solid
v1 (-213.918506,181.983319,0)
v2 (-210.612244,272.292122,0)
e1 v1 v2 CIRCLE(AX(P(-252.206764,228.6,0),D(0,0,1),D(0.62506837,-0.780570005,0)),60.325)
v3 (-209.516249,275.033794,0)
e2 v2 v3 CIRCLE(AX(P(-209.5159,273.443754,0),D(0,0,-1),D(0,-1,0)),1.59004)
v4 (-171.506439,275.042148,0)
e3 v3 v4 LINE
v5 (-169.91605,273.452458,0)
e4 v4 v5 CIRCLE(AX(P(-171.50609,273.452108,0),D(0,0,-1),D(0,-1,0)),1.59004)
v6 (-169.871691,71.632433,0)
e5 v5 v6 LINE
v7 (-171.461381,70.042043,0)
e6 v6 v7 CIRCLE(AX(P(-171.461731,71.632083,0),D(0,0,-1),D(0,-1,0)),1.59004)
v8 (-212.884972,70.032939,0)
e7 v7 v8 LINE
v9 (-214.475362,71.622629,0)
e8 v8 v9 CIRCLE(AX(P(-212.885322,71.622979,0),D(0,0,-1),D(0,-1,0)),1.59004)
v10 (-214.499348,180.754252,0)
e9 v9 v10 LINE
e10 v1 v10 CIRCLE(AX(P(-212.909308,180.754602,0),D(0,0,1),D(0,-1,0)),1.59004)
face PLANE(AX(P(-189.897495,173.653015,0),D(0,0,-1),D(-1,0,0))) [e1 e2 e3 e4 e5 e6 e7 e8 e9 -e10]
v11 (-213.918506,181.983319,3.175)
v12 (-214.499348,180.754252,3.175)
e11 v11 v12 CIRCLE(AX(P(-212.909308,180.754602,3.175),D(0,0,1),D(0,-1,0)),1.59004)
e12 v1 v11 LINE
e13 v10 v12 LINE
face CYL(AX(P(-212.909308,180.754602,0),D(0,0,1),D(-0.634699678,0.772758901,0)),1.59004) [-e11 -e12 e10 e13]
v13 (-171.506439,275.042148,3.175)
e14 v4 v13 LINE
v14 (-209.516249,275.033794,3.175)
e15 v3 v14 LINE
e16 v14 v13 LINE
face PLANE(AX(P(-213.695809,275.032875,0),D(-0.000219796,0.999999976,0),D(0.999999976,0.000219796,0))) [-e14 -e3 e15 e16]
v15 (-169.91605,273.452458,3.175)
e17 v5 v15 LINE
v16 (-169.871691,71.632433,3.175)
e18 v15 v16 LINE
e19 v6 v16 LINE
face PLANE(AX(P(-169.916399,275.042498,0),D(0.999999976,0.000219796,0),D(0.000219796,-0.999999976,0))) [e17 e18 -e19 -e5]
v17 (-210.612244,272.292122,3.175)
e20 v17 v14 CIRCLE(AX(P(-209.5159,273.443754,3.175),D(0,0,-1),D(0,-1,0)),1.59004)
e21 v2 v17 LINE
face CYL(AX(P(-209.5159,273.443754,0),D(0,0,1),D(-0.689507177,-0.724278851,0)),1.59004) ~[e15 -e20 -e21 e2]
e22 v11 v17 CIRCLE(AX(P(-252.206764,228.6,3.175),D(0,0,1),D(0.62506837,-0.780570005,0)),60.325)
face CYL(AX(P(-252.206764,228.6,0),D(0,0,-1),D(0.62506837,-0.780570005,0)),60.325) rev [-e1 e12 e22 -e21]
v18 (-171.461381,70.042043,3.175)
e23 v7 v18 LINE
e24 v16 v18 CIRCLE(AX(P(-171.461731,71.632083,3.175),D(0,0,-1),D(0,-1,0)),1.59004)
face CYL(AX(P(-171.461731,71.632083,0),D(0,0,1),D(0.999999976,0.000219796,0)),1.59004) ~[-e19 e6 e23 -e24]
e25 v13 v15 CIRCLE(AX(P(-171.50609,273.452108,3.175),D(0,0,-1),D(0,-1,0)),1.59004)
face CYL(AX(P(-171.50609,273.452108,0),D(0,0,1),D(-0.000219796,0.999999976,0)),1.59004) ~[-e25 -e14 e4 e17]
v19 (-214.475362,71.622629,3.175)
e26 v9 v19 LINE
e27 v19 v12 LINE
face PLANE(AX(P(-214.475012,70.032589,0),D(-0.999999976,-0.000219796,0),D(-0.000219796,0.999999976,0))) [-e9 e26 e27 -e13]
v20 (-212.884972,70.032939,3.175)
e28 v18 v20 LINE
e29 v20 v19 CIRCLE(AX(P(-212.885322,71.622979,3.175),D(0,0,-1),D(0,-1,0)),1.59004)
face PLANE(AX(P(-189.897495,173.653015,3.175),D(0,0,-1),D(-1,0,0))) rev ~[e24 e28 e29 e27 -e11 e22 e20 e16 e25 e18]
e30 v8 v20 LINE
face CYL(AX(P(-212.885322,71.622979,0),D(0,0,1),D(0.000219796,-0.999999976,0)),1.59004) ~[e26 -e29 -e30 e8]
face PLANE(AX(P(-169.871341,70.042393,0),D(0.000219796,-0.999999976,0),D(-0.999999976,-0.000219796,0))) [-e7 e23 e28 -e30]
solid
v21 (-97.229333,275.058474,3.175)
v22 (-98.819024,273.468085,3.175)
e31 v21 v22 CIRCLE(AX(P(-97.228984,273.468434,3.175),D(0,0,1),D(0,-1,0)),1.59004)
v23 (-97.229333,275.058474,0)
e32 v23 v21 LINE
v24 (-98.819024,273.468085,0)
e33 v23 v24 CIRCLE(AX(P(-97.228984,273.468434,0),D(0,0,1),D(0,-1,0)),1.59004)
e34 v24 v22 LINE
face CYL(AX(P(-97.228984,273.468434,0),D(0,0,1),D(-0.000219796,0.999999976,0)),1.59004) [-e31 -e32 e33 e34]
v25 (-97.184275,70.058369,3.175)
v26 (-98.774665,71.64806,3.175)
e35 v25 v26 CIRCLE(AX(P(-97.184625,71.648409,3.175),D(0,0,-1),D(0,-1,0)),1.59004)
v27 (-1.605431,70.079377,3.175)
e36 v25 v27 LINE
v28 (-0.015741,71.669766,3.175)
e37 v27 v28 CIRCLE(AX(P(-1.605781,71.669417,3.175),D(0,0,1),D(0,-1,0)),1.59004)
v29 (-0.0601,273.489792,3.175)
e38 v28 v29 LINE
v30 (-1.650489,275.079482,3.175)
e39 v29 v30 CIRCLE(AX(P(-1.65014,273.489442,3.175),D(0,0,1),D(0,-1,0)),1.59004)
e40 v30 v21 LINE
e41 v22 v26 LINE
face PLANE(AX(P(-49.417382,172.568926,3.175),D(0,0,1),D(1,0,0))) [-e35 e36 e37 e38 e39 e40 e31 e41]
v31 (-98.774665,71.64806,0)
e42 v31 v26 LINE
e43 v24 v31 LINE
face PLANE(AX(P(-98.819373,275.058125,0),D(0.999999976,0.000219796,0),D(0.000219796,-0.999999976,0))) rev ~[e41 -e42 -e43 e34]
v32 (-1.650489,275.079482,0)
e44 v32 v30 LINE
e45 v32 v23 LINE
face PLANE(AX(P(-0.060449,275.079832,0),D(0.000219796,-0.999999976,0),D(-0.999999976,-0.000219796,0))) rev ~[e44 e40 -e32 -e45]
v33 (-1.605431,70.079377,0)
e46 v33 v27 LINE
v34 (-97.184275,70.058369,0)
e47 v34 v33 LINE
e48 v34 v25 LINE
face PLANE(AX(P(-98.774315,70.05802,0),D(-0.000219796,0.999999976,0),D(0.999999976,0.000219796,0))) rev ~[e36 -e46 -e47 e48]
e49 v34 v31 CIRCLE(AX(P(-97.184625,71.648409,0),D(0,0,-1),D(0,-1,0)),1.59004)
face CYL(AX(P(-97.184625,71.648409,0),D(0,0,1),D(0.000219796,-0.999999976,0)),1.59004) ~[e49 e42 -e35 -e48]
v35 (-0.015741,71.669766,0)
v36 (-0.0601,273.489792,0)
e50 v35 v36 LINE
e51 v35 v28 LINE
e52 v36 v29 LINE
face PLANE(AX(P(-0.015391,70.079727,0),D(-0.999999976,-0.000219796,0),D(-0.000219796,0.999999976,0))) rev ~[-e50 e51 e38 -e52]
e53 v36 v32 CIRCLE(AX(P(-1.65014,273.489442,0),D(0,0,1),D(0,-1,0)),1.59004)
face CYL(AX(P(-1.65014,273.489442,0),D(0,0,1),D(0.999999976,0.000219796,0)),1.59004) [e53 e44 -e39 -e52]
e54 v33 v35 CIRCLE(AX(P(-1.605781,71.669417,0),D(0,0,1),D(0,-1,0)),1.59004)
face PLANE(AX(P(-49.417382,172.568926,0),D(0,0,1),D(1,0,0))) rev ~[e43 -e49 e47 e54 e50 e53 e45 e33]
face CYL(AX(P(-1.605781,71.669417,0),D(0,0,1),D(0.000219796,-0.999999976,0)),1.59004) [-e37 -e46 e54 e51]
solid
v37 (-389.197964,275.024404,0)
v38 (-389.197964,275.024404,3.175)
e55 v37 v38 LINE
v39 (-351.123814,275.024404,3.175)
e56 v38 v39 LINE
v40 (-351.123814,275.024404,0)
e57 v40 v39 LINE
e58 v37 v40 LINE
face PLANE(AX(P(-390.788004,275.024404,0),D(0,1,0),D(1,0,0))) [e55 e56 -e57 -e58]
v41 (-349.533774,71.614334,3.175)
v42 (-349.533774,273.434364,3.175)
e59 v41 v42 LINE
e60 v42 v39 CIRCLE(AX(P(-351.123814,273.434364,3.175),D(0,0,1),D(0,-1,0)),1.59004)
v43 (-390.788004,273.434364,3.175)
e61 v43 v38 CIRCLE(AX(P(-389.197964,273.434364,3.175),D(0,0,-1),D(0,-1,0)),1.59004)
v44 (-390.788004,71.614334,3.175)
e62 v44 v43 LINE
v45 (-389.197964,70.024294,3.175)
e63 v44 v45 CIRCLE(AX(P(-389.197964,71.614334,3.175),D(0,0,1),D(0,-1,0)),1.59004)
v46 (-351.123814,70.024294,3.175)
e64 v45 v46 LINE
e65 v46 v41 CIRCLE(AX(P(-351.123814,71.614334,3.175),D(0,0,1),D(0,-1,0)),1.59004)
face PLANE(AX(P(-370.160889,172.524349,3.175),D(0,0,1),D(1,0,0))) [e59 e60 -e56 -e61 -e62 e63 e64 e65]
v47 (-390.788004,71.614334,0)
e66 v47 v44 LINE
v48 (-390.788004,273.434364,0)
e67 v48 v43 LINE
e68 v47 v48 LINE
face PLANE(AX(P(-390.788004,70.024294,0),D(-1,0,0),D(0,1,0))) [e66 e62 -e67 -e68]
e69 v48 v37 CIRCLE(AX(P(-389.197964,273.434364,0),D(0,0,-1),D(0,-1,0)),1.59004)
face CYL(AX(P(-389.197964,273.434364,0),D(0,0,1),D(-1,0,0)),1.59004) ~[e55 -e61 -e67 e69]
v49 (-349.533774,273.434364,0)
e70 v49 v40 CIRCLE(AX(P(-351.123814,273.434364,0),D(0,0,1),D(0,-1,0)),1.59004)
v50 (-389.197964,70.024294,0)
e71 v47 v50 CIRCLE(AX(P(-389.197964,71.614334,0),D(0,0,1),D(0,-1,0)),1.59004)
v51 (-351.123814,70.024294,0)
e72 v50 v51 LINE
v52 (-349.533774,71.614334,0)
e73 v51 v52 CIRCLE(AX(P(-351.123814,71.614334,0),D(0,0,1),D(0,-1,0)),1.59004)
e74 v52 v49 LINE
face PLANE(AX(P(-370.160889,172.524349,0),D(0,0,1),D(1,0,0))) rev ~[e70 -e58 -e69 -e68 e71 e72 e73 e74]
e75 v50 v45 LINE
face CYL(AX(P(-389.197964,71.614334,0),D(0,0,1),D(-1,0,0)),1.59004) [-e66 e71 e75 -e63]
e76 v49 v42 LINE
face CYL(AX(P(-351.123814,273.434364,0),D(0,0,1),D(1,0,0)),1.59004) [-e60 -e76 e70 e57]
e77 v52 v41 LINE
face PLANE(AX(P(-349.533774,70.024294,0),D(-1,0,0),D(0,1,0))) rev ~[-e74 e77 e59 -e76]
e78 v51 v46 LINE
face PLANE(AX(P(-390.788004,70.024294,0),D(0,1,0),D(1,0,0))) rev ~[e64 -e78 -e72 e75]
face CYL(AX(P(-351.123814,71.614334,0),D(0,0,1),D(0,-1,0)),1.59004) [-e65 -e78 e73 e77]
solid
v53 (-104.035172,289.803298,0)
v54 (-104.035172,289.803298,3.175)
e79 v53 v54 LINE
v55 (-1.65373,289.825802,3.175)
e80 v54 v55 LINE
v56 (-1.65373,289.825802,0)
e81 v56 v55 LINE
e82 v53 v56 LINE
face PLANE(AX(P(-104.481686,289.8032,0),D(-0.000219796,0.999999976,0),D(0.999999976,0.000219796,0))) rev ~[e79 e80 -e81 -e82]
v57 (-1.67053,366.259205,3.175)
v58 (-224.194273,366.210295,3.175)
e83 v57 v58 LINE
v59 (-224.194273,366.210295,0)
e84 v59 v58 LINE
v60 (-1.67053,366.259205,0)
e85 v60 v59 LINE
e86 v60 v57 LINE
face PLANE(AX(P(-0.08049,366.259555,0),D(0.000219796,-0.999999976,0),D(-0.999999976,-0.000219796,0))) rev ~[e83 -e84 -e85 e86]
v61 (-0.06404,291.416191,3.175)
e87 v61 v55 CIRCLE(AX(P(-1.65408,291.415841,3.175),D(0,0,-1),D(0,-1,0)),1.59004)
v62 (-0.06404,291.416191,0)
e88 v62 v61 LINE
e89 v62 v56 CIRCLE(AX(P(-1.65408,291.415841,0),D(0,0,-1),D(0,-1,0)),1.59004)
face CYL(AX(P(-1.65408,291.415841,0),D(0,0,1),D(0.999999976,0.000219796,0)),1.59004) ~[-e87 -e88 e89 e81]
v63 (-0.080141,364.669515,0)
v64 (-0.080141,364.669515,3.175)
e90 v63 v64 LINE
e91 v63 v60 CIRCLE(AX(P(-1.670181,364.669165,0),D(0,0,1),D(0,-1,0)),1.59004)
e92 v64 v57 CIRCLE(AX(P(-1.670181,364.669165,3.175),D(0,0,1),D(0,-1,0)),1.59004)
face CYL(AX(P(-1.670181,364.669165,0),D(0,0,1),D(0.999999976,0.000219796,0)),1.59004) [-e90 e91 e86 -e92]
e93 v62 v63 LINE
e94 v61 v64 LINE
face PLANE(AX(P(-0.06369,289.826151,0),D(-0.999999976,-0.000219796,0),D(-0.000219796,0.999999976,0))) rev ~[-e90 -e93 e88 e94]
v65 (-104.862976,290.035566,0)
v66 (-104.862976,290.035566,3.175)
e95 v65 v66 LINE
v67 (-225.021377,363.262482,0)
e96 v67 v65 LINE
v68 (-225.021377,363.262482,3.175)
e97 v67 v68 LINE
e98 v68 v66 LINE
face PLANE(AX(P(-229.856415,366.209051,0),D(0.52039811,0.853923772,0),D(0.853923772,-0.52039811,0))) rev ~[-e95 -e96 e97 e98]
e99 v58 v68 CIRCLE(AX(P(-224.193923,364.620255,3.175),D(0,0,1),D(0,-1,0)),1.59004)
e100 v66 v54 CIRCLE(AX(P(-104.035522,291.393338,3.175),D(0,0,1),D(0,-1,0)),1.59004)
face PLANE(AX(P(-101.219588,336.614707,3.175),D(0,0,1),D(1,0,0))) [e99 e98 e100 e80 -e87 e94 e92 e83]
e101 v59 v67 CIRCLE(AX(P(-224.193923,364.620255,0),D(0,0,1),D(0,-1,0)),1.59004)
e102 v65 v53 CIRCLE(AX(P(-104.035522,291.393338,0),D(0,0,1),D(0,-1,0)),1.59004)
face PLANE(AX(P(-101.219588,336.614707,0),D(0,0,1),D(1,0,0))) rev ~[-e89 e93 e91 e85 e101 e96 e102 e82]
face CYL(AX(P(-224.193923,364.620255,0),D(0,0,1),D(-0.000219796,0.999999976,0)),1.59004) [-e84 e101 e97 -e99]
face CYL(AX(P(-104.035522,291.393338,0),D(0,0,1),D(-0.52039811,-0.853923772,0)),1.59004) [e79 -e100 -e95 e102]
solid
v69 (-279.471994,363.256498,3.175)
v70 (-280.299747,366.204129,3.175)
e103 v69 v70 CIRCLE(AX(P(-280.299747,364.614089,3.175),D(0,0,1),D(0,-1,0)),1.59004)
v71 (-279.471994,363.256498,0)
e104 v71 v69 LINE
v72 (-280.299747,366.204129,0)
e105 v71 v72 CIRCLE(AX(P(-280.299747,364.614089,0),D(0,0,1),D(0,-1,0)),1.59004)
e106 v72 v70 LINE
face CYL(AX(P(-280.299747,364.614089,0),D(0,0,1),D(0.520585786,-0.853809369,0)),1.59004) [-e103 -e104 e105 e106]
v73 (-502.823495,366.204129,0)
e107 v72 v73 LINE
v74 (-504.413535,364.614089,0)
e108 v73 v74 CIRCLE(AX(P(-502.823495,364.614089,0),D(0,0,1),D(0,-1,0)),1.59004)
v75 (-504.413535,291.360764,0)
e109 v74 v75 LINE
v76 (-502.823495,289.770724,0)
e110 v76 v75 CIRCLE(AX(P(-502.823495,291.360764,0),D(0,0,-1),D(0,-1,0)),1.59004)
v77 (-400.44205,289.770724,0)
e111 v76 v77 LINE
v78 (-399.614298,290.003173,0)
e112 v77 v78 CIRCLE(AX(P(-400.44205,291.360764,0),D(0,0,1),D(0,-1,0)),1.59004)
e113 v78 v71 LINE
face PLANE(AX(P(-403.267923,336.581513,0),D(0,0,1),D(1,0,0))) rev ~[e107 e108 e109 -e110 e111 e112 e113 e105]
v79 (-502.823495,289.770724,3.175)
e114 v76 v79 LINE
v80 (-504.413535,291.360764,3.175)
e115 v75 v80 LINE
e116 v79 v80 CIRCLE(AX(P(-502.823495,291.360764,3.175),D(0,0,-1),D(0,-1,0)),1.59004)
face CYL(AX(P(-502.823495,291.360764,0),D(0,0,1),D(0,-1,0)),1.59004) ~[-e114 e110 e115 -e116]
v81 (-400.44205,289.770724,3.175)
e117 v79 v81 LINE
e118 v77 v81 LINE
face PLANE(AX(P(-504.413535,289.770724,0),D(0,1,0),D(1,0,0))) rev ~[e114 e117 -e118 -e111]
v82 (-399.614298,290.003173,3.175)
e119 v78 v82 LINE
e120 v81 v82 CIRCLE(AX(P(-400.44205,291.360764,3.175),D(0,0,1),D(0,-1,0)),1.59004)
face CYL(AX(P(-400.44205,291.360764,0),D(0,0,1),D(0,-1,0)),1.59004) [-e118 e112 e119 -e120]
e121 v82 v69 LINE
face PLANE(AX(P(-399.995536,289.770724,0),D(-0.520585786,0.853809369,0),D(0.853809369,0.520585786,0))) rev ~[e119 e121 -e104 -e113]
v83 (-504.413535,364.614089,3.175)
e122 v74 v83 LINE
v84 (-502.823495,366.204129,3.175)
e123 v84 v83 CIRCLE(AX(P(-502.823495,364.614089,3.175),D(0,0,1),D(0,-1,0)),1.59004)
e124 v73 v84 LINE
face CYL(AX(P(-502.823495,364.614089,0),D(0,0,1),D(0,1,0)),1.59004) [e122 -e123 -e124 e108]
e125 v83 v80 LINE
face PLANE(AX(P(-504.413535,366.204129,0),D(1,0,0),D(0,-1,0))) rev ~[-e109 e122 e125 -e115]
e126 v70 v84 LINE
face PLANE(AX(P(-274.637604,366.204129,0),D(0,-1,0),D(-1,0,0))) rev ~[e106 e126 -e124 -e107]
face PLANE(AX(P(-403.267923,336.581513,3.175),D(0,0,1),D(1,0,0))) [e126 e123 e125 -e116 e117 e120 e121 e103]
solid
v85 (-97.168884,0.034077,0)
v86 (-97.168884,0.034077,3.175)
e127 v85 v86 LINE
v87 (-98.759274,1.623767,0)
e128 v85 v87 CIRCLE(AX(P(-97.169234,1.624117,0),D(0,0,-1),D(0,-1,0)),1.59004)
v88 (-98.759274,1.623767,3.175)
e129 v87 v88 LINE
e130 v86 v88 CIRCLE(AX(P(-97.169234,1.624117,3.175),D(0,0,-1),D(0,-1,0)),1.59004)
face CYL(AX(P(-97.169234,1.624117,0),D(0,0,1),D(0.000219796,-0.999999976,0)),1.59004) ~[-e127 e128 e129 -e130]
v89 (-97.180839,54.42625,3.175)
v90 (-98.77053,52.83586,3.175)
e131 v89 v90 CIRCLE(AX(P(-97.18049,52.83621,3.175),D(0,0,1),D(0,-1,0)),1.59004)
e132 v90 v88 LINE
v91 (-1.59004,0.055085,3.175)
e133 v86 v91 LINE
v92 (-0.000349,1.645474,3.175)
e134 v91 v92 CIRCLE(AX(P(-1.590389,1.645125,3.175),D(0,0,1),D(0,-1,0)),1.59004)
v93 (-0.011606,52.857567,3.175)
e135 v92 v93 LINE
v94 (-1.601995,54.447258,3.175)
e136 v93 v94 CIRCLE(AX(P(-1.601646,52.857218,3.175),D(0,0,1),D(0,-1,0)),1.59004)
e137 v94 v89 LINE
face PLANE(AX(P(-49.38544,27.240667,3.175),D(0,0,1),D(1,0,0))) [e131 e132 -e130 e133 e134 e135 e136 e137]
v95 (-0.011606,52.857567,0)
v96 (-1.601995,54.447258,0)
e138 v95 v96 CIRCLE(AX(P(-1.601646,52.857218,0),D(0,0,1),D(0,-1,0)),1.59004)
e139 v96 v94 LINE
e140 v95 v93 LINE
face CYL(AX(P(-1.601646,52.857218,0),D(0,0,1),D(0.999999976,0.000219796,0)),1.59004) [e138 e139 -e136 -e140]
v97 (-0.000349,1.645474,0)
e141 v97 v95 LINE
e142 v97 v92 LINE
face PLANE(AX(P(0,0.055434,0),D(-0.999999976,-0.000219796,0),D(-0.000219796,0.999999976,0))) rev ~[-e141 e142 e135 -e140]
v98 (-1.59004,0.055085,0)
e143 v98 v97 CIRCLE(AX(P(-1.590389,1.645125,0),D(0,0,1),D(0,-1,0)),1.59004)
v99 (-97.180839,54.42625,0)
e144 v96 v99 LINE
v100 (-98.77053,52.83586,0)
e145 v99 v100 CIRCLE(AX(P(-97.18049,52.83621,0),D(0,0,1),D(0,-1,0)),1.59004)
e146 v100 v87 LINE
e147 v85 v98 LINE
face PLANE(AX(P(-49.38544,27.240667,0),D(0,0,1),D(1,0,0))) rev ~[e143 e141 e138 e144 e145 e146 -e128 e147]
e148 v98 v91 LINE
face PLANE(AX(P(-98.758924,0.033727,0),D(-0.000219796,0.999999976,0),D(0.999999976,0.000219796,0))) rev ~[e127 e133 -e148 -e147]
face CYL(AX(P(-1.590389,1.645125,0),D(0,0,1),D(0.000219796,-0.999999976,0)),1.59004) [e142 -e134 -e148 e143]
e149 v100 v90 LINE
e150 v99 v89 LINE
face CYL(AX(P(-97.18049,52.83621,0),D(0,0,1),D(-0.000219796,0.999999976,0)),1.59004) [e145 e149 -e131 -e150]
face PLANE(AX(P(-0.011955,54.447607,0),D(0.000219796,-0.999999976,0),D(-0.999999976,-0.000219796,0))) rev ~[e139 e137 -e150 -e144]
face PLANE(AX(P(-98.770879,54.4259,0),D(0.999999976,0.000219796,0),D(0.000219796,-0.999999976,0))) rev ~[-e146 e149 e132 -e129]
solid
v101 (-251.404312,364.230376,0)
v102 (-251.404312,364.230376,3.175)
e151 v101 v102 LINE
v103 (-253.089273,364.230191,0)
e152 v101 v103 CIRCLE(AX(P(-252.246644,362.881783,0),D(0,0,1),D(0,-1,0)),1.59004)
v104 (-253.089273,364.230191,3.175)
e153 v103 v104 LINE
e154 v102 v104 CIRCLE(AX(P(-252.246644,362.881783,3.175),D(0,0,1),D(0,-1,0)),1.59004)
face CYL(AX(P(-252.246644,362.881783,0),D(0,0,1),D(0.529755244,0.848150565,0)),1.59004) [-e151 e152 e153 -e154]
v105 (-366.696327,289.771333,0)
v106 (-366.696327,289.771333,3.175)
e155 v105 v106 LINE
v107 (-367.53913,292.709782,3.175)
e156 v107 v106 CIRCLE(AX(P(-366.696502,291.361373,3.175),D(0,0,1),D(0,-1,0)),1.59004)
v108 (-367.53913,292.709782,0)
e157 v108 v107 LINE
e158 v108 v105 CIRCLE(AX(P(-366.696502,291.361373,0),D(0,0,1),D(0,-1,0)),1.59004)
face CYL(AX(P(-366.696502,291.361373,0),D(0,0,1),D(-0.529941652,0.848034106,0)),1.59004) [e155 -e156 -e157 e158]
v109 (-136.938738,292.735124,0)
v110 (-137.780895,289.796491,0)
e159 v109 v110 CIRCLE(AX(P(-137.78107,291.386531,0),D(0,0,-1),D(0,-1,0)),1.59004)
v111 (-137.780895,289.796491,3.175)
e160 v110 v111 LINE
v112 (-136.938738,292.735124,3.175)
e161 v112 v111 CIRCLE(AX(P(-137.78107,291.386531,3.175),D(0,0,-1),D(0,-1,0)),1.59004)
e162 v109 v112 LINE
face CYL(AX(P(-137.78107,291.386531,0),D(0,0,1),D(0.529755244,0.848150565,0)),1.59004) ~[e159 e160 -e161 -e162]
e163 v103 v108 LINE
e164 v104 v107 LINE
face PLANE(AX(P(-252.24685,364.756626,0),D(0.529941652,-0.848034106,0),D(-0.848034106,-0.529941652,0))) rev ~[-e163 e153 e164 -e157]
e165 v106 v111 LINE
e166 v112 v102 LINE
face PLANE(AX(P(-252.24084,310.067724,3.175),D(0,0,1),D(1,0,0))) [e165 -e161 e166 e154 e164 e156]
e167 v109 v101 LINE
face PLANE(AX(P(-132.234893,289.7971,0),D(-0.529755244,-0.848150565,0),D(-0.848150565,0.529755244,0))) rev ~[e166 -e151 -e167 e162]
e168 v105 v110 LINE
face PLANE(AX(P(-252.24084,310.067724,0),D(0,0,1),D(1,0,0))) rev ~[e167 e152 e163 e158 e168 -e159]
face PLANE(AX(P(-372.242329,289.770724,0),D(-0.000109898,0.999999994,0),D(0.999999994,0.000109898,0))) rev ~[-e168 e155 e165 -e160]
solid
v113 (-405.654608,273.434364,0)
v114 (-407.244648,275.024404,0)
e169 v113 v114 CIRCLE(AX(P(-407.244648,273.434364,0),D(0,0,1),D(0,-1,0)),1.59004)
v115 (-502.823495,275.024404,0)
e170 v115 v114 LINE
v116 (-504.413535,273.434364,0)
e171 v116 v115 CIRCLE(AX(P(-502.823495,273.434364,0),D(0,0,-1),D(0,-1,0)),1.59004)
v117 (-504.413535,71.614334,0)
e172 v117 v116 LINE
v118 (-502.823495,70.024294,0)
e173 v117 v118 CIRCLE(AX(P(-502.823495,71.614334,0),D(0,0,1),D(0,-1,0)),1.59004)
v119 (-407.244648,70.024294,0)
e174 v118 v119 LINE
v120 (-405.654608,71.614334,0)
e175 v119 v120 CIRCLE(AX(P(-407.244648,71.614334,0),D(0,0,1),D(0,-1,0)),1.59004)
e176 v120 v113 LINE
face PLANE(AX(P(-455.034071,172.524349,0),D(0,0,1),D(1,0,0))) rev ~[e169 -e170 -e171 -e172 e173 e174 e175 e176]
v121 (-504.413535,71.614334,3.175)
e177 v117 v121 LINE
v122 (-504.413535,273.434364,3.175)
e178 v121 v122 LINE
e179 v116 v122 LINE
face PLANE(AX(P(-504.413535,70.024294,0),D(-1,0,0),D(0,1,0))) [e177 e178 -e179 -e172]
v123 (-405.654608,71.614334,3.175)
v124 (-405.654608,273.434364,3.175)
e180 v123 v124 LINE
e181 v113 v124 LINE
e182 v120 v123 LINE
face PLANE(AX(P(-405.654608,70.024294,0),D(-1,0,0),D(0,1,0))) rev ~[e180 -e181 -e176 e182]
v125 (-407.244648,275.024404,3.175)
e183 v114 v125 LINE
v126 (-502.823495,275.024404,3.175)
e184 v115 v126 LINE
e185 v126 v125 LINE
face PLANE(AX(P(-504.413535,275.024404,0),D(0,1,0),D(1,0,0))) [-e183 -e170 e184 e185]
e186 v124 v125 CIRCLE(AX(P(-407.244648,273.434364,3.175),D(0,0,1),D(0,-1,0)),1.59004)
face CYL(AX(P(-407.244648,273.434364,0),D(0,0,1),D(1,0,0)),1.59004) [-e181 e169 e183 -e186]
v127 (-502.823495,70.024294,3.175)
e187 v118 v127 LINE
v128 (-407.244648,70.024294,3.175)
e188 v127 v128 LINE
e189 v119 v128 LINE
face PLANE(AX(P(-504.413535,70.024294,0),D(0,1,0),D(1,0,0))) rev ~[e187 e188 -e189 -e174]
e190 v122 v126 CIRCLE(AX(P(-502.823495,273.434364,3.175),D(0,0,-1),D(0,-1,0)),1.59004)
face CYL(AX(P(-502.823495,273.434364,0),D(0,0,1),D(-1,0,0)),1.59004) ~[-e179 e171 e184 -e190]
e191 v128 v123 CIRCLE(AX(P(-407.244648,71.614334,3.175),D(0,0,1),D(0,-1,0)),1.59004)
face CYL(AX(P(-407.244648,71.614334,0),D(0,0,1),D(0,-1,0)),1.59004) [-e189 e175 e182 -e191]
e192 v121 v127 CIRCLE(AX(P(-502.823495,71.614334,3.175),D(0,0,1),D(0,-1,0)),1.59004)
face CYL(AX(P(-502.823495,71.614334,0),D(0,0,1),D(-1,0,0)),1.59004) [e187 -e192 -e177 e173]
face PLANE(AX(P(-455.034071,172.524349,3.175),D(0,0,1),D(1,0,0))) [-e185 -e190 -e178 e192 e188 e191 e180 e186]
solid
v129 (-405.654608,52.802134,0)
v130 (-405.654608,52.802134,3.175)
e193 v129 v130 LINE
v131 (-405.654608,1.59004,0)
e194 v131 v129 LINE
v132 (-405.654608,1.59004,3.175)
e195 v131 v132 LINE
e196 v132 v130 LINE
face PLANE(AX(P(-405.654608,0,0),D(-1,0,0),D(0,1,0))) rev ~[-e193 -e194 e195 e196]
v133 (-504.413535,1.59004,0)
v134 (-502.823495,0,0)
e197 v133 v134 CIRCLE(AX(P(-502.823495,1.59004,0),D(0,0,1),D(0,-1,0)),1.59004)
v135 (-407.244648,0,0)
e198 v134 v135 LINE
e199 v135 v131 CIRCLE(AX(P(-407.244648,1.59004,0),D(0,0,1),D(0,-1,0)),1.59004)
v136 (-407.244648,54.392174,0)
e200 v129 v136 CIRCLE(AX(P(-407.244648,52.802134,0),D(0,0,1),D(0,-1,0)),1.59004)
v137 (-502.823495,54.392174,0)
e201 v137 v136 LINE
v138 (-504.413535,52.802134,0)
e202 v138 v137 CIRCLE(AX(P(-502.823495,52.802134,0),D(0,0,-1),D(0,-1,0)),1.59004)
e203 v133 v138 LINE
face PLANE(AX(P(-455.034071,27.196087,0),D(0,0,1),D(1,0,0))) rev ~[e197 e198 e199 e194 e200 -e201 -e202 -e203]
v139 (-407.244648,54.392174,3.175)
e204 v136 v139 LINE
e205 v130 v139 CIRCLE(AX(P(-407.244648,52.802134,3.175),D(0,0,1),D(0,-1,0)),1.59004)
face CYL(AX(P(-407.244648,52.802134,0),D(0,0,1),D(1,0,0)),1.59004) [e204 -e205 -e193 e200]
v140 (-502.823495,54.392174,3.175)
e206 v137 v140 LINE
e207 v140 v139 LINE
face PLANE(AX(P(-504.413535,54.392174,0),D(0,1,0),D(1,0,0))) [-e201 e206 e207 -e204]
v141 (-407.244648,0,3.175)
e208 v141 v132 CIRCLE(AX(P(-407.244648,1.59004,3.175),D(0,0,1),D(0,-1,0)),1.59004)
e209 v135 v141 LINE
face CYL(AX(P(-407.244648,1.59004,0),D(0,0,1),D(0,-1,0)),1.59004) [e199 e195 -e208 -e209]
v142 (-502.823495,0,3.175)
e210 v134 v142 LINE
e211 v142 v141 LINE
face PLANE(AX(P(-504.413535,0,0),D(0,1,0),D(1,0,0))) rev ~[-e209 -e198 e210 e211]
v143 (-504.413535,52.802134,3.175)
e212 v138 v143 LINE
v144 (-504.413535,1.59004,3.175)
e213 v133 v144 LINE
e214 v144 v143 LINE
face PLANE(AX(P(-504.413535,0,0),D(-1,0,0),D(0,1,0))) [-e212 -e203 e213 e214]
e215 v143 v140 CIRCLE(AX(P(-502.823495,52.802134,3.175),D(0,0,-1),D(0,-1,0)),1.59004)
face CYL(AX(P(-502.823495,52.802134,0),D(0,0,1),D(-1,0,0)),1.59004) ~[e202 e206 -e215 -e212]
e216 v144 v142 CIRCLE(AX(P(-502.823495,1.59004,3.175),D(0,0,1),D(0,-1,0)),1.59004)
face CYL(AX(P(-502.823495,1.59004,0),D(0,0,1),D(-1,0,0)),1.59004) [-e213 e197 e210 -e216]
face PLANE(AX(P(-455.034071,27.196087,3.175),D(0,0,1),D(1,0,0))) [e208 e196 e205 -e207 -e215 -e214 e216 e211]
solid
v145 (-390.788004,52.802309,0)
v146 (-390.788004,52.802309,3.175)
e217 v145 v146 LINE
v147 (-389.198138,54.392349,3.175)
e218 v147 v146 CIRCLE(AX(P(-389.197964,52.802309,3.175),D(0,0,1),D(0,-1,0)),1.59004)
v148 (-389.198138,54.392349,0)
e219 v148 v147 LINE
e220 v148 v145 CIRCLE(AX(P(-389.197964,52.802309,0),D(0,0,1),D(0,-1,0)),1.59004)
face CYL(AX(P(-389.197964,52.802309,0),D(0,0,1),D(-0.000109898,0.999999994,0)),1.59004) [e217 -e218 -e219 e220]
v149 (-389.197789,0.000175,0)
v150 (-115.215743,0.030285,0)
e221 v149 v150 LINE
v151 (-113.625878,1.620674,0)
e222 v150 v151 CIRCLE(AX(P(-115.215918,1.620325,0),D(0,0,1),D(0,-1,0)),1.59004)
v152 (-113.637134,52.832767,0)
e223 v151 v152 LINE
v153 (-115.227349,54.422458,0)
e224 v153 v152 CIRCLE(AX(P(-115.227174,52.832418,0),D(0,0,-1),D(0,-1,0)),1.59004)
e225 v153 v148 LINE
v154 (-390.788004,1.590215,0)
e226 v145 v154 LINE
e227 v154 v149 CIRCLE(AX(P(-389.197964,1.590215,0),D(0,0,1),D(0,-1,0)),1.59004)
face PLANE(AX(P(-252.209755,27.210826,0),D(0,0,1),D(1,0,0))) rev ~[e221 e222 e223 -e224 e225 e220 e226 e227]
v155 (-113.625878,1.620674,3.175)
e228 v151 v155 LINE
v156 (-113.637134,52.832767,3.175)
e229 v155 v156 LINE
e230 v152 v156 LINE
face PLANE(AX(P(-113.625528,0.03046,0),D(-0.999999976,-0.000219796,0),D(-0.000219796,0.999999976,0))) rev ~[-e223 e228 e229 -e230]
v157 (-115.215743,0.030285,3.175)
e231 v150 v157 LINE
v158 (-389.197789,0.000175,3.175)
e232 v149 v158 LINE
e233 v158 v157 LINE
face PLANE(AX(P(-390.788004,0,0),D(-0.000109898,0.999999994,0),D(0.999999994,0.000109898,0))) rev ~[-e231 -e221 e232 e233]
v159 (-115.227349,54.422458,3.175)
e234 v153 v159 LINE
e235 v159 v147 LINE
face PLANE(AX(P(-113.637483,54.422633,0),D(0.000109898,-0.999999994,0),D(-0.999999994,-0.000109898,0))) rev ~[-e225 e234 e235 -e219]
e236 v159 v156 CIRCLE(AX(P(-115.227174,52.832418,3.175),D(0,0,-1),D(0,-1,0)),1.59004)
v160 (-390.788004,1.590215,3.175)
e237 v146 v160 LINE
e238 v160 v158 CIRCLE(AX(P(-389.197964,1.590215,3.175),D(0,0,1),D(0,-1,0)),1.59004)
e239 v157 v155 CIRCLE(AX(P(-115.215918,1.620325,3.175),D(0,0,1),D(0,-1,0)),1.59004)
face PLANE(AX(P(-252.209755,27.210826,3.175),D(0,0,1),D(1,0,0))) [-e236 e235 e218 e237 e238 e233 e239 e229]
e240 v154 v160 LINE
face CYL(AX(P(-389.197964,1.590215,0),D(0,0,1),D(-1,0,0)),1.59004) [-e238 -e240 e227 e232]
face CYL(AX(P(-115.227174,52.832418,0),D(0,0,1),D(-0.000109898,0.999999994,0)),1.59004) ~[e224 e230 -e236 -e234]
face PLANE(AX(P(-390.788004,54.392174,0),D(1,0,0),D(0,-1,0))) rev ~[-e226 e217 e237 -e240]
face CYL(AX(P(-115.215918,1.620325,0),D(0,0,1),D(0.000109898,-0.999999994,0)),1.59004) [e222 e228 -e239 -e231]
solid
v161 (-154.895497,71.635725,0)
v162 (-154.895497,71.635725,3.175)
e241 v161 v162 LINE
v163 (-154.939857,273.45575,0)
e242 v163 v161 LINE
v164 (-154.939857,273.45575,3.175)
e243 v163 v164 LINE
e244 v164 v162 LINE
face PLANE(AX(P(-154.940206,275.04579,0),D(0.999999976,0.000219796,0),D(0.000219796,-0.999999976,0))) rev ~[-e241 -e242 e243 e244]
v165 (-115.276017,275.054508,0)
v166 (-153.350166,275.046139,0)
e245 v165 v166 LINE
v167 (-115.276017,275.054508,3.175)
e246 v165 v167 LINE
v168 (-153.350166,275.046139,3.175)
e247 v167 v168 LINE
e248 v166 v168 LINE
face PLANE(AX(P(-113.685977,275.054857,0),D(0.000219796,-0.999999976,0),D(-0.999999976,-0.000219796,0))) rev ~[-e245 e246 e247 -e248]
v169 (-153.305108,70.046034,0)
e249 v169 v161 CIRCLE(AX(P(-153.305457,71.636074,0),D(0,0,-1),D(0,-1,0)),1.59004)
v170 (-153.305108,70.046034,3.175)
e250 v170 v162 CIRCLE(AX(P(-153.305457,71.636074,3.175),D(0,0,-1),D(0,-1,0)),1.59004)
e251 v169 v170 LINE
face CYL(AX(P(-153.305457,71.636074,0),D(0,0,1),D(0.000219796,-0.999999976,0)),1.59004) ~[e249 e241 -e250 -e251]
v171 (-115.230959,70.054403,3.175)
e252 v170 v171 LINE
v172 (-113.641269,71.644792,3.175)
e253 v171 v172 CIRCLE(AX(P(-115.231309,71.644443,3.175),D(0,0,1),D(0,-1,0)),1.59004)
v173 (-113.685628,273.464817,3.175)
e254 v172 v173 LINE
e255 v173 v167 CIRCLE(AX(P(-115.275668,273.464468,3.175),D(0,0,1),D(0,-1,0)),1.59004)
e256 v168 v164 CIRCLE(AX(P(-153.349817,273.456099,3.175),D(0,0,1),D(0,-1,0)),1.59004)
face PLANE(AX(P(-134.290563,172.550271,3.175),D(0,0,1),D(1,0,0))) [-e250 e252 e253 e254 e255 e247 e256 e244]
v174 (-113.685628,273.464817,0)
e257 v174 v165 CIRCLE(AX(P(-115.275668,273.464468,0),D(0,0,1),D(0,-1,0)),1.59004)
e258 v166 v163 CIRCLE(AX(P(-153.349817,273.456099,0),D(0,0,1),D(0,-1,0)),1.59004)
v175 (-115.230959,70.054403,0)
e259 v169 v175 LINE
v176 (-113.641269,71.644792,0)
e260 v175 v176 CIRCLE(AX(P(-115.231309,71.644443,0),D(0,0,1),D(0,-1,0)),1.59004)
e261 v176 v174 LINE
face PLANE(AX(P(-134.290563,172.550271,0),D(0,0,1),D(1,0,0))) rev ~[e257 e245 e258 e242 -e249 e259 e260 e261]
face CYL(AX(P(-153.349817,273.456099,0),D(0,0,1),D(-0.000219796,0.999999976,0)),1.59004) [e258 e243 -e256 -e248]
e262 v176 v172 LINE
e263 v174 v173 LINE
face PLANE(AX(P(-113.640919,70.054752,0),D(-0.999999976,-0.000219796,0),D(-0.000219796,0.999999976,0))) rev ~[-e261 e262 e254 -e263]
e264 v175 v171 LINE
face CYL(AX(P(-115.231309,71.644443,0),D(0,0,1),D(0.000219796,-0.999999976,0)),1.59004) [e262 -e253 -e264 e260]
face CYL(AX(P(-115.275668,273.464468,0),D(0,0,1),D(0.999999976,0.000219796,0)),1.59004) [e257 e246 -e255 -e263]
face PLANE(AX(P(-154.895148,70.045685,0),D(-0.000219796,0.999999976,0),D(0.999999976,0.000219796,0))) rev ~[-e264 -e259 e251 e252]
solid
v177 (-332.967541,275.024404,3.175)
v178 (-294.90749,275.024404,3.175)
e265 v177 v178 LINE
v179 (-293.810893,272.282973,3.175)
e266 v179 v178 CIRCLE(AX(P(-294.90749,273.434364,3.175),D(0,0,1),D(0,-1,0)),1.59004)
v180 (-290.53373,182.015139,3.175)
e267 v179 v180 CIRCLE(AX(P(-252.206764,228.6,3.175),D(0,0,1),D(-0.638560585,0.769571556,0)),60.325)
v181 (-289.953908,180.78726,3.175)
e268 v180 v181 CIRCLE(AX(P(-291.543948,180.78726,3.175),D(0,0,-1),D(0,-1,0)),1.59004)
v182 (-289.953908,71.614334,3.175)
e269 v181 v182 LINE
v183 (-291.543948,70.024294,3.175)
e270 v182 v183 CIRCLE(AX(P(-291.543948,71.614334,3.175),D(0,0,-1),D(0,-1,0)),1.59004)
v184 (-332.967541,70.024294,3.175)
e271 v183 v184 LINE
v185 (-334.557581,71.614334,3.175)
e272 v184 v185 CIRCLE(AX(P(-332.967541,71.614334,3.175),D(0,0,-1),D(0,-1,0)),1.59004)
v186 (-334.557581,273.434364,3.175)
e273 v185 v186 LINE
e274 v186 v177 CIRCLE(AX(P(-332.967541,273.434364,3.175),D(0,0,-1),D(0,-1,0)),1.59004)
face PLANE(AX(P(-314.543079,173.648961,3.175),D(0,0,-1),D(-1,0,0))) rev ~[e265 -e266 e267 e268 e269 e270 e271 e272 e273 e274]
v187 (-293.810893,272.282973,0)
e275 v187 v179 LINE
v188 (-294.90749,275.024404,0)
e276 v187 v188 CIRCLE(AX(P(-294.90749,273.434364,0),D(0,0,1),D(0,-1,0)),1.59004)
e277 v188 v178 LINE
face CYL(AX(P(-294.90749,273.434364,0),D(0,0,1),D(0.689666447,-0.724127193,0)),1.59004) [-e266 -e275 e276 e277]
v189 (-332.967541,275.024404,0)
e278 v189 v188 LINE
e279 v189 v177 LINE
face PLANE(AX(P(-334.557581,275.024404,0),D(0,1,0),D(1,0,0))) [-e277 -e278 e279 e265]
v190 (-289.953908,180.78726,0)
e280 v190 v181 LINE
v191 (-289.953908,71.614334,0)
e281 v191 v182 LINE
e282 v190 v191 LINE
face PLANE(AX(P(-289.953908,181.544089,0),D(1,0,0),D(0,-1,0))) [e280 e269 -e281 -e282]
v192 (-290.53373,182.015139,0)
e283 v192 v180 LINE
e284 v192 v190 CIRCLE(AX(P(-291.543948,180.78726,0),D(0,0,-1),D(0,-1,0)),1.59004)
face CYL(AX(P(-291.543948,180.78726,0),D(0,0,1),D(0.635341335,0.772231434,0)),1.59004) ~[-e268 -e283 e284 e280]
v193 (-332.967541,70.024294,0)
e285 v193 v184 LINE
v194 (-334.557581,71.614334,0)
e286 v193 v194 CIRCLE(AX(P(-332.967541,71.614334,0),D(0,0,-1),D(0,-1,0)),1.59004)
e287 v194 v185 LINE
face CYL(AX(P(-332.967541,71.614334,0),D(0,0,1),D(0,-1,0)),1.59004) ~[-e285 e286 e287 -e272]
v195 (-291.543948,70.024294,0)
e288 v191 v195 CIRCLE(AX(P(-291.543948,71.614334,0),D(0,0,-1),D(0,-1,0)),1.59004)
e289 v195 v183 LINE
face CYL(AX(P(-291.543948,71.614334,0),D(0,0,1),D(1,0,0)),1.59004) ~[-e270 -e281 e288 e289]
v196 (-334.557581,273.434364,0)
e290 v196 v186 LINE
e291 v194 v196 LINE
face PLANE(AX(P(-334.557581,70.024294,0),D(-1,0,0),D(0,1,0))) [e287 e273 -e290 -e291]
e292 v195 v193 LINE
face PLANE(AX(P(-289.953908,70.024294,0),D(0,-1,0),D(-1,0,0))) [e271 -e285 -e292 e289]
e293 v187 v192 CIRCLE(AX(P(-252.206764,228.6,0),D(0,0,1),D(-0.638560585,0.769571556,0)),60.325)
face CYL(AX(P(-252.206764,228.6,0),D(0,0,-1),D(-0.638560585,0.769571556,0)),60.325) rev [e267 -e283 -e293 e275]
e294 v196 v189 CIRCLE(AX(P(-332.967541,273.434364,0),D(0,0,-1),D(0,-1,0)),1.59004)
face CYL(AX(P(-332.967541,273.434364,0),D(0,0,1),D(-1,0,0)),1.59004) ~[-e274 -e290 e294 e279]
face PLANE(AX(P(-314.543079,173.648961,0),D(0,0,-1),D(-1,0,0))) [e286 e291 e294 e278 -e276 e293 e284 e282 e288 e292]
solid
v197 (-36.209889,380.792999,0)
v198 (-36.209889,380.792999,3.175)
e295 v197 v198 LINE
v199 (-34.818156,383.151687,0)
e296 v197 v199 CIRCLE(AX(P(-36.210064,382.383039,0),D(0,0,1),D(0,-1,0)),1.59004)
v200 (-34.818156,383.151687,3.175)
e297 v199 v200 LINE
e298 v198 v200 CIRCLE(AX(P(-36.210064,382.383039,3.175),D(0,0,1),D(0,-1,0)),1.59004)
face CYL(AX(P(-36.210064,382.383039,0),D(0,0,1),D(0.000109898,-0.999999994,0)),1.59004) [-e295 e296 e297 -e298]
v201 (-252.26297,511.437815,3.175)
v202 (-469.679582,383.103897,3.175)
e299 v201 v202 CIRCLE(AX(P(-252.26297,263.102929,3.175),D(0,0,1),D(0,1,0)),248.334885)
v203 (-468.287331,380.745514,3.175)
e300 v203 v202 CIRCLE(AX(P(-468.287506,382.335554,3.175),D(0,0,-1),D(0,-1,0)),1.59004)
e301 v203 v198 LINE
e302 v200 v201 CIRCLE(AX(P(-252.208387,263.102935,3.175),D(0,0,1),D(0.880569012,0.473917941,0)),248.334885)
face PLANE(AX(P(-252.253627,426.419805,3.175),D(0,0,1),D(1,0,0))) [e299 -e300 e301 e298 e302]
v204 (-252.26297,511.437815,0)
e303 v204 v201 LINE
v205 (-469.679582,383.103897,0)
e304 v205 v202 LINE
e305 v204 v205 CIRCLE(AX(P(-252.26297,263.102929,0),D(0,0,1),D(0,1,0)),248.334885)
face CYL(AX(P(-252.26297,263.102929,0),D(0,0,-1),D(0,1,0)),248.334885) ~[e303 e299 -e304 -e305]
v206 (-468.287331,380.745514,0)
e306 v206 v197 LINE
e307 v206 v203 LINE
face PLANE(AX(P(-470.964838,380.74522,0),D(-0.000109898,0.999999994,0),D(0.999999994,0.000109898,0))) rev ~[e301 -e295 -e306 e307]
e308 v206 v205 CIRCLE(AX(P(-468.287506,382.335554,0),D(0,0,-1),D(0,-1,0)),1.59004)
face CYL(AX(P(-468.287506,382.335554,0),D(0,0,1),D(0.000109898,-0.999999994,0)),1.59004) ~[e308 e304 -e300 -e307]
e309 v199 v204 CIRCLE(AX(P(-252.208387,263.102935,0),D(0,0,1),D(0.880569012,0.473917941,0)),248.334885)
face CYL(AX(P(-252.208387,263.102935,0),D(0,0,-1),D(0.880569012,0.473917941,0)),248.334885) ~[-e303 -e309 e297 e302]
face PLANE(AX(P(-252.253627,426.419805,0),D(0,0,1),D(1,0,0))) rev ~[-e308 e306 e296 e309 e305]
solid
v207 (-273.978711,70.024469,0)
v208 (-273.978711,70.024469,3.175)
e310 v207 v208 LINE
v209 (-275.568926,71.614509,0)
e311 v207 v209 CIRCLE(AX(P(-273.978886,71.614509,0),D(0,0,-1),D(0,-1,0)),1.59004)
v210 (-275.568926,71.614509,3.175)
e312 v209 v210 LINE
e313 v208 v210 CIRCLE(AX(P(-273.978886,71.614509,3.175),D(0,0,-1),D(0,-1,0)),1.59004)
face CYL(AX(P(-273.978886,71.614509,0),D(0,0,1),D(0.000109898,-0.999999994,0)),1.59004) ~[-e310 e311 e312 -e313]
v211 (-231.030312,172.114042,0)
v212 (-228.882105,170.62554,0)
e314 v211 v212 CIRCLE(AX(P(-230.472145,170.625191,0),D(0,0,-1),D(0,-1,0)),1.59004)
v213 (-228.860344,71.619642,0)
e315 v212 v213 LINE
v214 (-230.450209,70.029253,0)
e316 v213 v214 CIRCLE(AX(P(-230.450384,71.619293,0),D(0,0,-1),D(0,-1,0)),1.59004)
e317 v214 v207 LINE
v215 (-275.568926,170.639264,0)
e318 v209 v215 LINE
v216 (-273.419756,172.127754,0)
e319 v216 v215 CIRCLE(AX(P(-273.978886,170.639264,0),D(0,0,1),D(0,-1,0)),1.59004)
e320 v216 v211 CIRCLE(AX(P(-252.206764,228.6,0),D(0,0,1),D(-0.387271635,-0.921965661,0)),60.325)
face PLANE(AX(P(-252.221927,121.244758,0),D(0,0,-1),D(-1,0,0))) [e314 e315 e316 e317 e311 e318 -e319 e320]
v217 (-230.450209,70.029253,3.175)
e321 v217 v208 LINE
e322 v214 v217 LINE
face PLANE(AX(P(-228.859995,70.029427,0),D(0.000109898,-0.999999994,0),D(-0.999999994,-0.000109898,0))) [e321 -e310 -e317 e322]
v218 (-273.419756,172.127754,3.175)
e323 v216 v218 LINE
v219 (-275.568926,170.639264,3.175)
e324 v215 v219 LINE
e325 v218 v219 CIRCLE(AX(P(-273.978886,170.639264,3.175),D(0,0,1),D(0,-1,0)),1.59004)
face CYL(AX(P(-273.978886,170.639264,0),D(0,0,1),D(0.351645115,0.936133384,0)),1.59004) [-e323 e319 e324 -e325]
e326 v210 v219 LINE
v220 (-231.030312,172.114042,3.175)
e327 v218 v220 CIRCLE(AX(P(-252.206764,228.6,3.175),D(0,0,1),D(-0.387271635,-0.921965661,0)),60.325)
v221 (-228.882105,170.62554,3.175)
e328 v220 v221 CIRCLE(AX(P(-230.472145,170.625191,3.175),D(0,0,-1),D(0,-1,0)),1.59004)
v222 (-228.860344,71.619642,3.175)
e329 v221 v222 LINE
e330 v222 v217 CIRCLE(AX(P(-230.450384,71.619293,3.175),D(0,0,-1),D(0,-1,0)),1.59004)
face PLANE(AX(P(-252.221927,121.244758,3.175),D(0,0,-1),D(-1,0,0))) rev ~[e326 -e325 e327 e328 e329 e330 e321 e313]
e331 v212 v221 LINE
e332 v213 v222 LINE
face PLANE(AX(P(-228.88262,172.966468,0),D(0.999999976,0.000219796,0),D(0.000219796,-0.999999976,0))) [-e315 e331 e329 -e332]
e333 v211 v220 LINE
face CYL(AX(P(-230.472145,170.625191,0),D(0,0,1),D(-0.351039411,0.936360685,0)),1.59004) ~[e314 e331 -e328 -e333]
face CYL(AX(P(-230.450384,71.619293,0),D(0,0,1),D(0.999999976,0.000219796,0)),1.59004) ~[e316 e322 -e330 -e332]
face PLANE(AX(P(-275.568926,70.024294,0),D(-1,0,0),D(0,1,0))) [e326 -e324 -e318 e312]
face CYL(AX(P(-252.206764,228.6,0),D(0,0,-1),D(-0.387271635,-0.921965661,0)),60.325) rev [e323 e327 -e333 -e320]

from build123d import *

# Parameters (mm, degrees)
SKETCH1_W              = 98.758926402
SKETCH1_H              = 54.392174278
BOSS_EXTRUDE1_DEPTH    = 3.175
SKETCH1_H_2            = 205.000109937
BOSS_EXTRUDE1_2_DEPTH  = 3.175
BOSS_EXTRUDE1_3_DEPTH  = 3.175
BOSS_EXTRUDE1_4_DEPTH  = 3.175
BOSS_EXTRUDE1_5_DEPTH  = 3.175
BOSS_EXTRUDE1_6_DEPTH  = 3.175
BOSS_EXTRUDE1_7_DEPTH  = 3.175
BOSS_EXTRUDE1_8_DEPTH  = 3.175
BOSS_EXTRUDE1_9_DEPTH  = 3.175
BOSS_EXTRUDE1_10_DEPTH = 3.175
BOSS_EXTRUDE1_11_DEPTH = 3.175
BOSS_EXTRUDE1_12_DEPTH = 3.175
BOSS_EXTRUDE1_13_DEPTH = 3.175
SKETCH1_W_2            = 41.254229691
BOSS_EXTRUDE1_14_DEPTH = 3.175
FILLET1_R              = 1.59004
FILLET2_R              = 1.59004
FILLET3_R              = 1.59004
FILLET4_R              = 1.59004
FILLET5_R              = 1.59004
FILLET6_R              = 1.59004
FILLET7_R              = 1.59004
FILLET8_R              = 1.59004
FILLET9_R              = 1.59004
FILLET10_R             = 1.59004
FILLET11_R             = 1.59004
FILLET12_R             = 1.59004
FILLET13_R             = 1.59004
FILLET14_R             = 1.59004


with BuildPart() as part:
    # Sketch1 → Boss-Extrude1 (new body)
    with BuildSketch(Plane.XY):
        with Locations((-455.034071493, 27.196087139)):
            Rectangle(SKETCH1_W, SKETCH1_H)
    extrude(amount=BOSS_EXTRUDE1_DEPTH)

    # Fillet6
    fillet6_edges = [part.edges().sort_by_distance(p)[0] for p in [
        (-405.654608292, 0, 1.5875),
        (-504.413534694, 0, 1.5875),
        (-504.413534694, 54.392174278, 1.5875),
        (-405.654608292, 54.392174278, 1.5875),
    ]]
    fillet(fillet6_edges, radius=FILLET6_R)


with BuildPart() as body_2:
    # Sketch1 → Boss-Extrude1 2 (new body)
    with BuildSketch(Plane.XY):
        with Locations((-455.034071493, 172.524349147)):
            Rectangle(SKETCH1_W, SKETCH1_H_2)
    extrude(amount=BOSS_EXTRUDE1_2_DEPTH)

    # Fillet5
    fillet5_edges = [body_2.edges().sort_by_distance(p)[0] for p in [
        (-405.654608292, 70.024294178, 1.5875),
        (-504.413534694, 70.024294178, 1.5875),
        (-504.413534694, 275.024404115, 1.5875),
        (-405.654608292, 275.024404115, 1.5875),
    ]]
    fillet(fillet5_edges, radius=FILLET5_R)


with BuildPart() as body_3:
    # Sketch1 → Boss-Extrude1 3 (new body)
    with BuildSketch(Plane.XY):
        Polygon((-504.413534694, 289.770723971), (-399.995536142, 289.770723971), (-274.637603852, 366.204129426), (-504.413534694, 366.204129426), align=None)
    extrude(amount=BOSS_EXTRUDE1_3_DEPTH)

    # Fillet4
    fillet4_edges = [body_3.edges().sort_by_distance(p)[0] for p in [
        (-504.413534694, 289.770723971, 1.5875),
        (-504.413534694, 366.204129426, 1.5875),
        (-274.637603852, 366.204129426, 1.5875),
        (-399.995536142, 289.770723971, 1.5875),
    ]]
    fillet(fillet4_edges, radius=FILLET4_R)


with BuildPart() as body_4:
    # Sketch1 → Boss-Extrude1 4 (new body)
    with BuildSketch(Plane.XY):
        with BuildLine():
            Line((-470.964837705, 380.745219948), (-33.532382457, 380.7932929))
            ThreePointArc((-33.532382457, 380.7932929), (-124.866998496, 476.303277883), (-252.262970294, 511.437814852))
            ThreePointArc((-252.262970294, 511.437814852), (-379.651216585, 476.275277607), (-470.964837705, 380.745219948))
        make_face()
    extrude(amount=BOSS_EXTRUDE1_4_DEPTH)

    # Fillet1
    fillet1_edges = [body_4.edges().sort_by_distance(p)[0] for p in [
        (-470.964837705, 380.745219948, 1.5875),
        (-33.532382457, 380.7932929, 1.5875),
    ]]
    fillet(fillet1_edges, radius=FILLET1_R)


with BuildPart() as body_5:
    # Sketch1 → Boss-Extrude1 5 (new body)
    with BuildSketch(Plane.XY):
        Polygon((-0.063690446, 289.82615101), (-0.080490203, 366.259554619), (-229.856415494, 366.209050789), (-104.481686476, 289.803200352), align=None)
    extrude(amount=BOSS_EXTRUDE1_5_DEPTH)

    # Fillet2
    fillet2_edges = [body_5.edges().sort_by_distance(p)[0] for p in [
        (-0.063690446, 289.82615101, 1.5875),
        (-104.481686476, 289.803200352, 1.5875),
        (-229.856415494, 366.209050789, 1.5875),
        (-0.080490203, 366.259554619, 1.5875),
    ]]
    fillet(fillet2_edges, radius=FILLET2_R)


with BuildPart() as body_6:
    # Sketch1 → Boss-Extrude1 6 (new body)
    with BuildSketch(Plane.XY):
        Polygon((-132.234892816, 289.797100308), (-252.246850325, 364.756625786), (-372.242329131, 289.770723971), align=None)
    extrude(amount=BOSS_EXTRUDE1_6_DEPTH)

    # Fillet3
    fillet3_edges = [body_6.edges().sort_by_distance(p)[0] for p in [
        (-132.234892816, 289.797100308, 1.5875),
        (-372.242329131, 289.770723971, 1.5875),
        (-252.246850325, 364.756625786, 1.5875),
    ]]
    fillet(fillet3_edges, radius=FILLET3_R)


with BuildPart() as body_7:
    # Sketch1 → Boss-Extrude1 7 (new body)
    with BuildSketch(Plane.XY):
        Polygon((-98.774315076, 70.058019709), (-0.01539106, 70.079726526), (-0.060449264, 275.079831511), (-98.81937328, 275.058124694), align=None)
    extrude(amount=BOSS_EXTRUDE1_7_DEPTH)

    # Fillet9
    fillet9_edges = [body_7.edges().sort_by_distance(p)[0] for p in [
        (-98.774315076, 70.058019709, 1.5875),
        (-98.81937328, 275.058124694, 1.5875),
        (-0.060449264, 275.079831511, 1.5875),
        (-0.01539106, 70.079726526, 1.5875),
    ]]
    fillet(fillet9_edges, radius=FILLET9_R)


with BuildPart() as body_8:
    # Sketch1 → Boss-Extrude1 8 (new body)
    with BuildSketch(Plane.XY):
        Polygon((-98.758924016, 0.033727222), (0, 0.055434039), (-0.011955182, 54.447607004), (-98.770879198, 54.425900187), align=None)
    extrude(amount=BOSS_EXTRUDE1_8_DEPTH)

    # Fillet8
    fillet8_edges = [body_8.edges().sort_by_distance(p)[0] for p in [
        (-98.758924016, 0.033727222, 1.5875),
        (-98.770879198, 54.425900187, 1.5875),
        (-0.011955182, 54.447607004, 1.5875),
        (0, 0.055434039, 1.5875),
    ]]
    fillet(fillet8_edges, radius=FILLET8_R)


with BuildPart() as body_9:
    # Sketch1 → Boss-Extrude1 9 (new body)
    with BuildSketch(Plane.XY):
        Polygon((-113.637483376, 54.422632566), (-390.788003755, 54.392174278), (-390.788003755, 0), (-113.625528194, 0.030459602), align=None)
    extrude(amount=BOSS_EXTRUDE1_9_DEPTH)

    # Fillet7
    fillet7_edges = [body_9.edges().sort_by_distance(p)[0] for p in [
        (-113.637483376, 54.422632566, 1.5875),
        (-113.625528194, 0.030459602, 1.5875),
        (-390.788003755, 0, 1.5875),
        (-390.788003755, 54.392174278, 1.5875),
    ]]
    fillet(fillet7_edges, radius=FILLET7_R)


with BuildPart() as body_10:
    # Sketch1 → Boss-Extrude1 10 (new body)
    with BuildSketch(Plane.XY):
        Polygon((-154.895147948, 70.045684574), (-113.640919254, 70.054752089), (-113.685977458, 275.054857074), (-154.940206152, 275.045789559), align=None)
    extrude(amount=BOSS_EXTRUDE1_10_DEPTH)

    # Fillet10
    fillet10_edges = [body_10.edges().sort_by_distance(p)[0] for p in [
        (-154.895147948, 70.045684574, 1.5875),
        (-154.940206152, 275.045789559, 1.5875),
        (-113.685977458, 275.054857074, 1.5875),
        (-113.640919254, 70.054752089, 1.5875),
    ]]
    fillet(fillet10_edges, radius=FILLET10_R)


with BuildPart() as body_11:
    # Sketch1 → Boss-Extrude1 11 (new body)
    with BuildSketch(Plane.XY):
        with BuildLine():
            ThreePointArc((-214.499514867, 181.512114455), (-191.883991823, 228.081593234), (-213.695808519, 275.032875312))
            Line((-213.695808519, 275.032875312), (-169.916399335, 275.042497851))
            Line((-169.916399335, 275.042497851), (-169.87134113, 70.042392867))
            Line((-169.87134113, 70.042392867), (-214.475012112, 70.032589158))
            Line((-214.475012112, 70.032589158), (-214.499514867, 181.512114455))
        make_face()
    extrude(amount=BOSS_EXTRUDE1_11_DEPTH)

    # Fillet11
    fillet11_edges = [body_11.edges().sort_by_distance(p)[0] for p in [
        (-213.695808519, 275.032875312, 1.5875),
        (-169.916399335, 275.042497851, 1.5875),
        (-169.87134113, 70.042392867, 1.5875),
        (-214.475012112, 70.032589158, 1.5875),
        (-214.499514867, 181.512114455, 1.5875),
    ]]
    fillet(fillet11_edges, radius=FILLET11_R)


with BuildPart() as body_12:
    # Sketch1 → Boss-Extrude1 12 (new body)
    with BuildSketch(Plane.XY):
        with BuildLine():
            ThreePointArc((-275.568925666, 172.982421472), (-252.227378583, 168.275003522), (-228.88261971, 172.966467809))
            Line((-228.88261971, 172.966467809), (-228.85999456, 70.029427396))
            Line((-228.85999456, 70.029427396), (-275.568925666, 70.024294178))
            Line((-275.568925666, 70.024294178), (-275.568925666, 172.982421472))
        make_face()
    extrude(amount=BOSS_EXTRUDE1_12_DEPTH)

    # Fillet12
    fillet12_edges = [body_12.edges().sort_by_distance(p)[0] for p in [
        (-228.88261971, 172.966467809, 1.5875),
        (-228.85999456, 70.029427396, 1.5875),
        (-275.568925666, 70.024294178, 1.5875),
        (-275.568925666, 172.982421472, 1.5875),
    ]]
    fillet(fillet12_edges, radius=FILLET12_R)


with BuildPart() as body_13:
    # Sketch1 → Boss-Extrude1 13 (new body)
    with BuildSketch(Plane.XY):
        with BuildLine():
            ThreePointArc((-290.727931568, 275.024404115), (-312.529696482, 228.100522185), (-289.953908461, 181.54408929))
            Line((-289.953908461, 181.54408929), (-289.953908461, 70.024294178))
            Line((-289.953908461, 70.024294178), (-334.55758052, 70.024294178))
            Line((-334.55758052, 70.024294178), (-334.55758052, 275.024404115))
            Line((-334.55758052, 275.024404115), (-290.727931568, 275.024404115))
        make_face()
    extrude(amount=BOSS_EXTRUDE1_13_DEPTH)

    # Fillet13
    fillet13_edges = [body_13.edges().sort_by_distance(p)[0] for p in [
        (-289.953908461, 181.54408929, 1.5875),
        (-289.953908461, 70.024294178, 1.5875),
        (-334.55758052, 70.024294178, 1.5875),
        (-334.55758052, 275.024404115, 1.5875),
        (-290.727931568, 275.024404115, 1.5875),
    ]]
    fillet(fillet13_edges, radius=FILLET13_R)


with BuildPart() as body_14:
    # Sketch1 → Boss-Extrude1 14 (new body)
    with BuildSketch(Plane.XY):
        with Locations((-370.16088891, 172.524349147)):
            Rectangle(SKETCH1_W_2, SKETCH1_H_2)
    extrude(amount=BOSS_EXTRUDE1_14_DEPTH)

    # Fillet14
    fillet14_edges = [body_14.edges().sort_by_distance(p)[0] for p in [
        (-349.533774064, 70.024294178, 1.5875),
        (-390.788003755, 70.024294178, 1.5875),
        (-390.788003755, 275.024404115, 1.5875),
        (-349.533774064, 275.024404115, 1.5875),
    ]]
    fillet(fillet14_edges, radius=FILLET14_R)


solid = Compound([part.part, body_2.part, body_3.part, body_4.part, body_5.part, body_6.part, body_7.part, body_8.part, body_9.part, body_10.part, body_11.part, body_12.part, body_13.part, body_14.part])
